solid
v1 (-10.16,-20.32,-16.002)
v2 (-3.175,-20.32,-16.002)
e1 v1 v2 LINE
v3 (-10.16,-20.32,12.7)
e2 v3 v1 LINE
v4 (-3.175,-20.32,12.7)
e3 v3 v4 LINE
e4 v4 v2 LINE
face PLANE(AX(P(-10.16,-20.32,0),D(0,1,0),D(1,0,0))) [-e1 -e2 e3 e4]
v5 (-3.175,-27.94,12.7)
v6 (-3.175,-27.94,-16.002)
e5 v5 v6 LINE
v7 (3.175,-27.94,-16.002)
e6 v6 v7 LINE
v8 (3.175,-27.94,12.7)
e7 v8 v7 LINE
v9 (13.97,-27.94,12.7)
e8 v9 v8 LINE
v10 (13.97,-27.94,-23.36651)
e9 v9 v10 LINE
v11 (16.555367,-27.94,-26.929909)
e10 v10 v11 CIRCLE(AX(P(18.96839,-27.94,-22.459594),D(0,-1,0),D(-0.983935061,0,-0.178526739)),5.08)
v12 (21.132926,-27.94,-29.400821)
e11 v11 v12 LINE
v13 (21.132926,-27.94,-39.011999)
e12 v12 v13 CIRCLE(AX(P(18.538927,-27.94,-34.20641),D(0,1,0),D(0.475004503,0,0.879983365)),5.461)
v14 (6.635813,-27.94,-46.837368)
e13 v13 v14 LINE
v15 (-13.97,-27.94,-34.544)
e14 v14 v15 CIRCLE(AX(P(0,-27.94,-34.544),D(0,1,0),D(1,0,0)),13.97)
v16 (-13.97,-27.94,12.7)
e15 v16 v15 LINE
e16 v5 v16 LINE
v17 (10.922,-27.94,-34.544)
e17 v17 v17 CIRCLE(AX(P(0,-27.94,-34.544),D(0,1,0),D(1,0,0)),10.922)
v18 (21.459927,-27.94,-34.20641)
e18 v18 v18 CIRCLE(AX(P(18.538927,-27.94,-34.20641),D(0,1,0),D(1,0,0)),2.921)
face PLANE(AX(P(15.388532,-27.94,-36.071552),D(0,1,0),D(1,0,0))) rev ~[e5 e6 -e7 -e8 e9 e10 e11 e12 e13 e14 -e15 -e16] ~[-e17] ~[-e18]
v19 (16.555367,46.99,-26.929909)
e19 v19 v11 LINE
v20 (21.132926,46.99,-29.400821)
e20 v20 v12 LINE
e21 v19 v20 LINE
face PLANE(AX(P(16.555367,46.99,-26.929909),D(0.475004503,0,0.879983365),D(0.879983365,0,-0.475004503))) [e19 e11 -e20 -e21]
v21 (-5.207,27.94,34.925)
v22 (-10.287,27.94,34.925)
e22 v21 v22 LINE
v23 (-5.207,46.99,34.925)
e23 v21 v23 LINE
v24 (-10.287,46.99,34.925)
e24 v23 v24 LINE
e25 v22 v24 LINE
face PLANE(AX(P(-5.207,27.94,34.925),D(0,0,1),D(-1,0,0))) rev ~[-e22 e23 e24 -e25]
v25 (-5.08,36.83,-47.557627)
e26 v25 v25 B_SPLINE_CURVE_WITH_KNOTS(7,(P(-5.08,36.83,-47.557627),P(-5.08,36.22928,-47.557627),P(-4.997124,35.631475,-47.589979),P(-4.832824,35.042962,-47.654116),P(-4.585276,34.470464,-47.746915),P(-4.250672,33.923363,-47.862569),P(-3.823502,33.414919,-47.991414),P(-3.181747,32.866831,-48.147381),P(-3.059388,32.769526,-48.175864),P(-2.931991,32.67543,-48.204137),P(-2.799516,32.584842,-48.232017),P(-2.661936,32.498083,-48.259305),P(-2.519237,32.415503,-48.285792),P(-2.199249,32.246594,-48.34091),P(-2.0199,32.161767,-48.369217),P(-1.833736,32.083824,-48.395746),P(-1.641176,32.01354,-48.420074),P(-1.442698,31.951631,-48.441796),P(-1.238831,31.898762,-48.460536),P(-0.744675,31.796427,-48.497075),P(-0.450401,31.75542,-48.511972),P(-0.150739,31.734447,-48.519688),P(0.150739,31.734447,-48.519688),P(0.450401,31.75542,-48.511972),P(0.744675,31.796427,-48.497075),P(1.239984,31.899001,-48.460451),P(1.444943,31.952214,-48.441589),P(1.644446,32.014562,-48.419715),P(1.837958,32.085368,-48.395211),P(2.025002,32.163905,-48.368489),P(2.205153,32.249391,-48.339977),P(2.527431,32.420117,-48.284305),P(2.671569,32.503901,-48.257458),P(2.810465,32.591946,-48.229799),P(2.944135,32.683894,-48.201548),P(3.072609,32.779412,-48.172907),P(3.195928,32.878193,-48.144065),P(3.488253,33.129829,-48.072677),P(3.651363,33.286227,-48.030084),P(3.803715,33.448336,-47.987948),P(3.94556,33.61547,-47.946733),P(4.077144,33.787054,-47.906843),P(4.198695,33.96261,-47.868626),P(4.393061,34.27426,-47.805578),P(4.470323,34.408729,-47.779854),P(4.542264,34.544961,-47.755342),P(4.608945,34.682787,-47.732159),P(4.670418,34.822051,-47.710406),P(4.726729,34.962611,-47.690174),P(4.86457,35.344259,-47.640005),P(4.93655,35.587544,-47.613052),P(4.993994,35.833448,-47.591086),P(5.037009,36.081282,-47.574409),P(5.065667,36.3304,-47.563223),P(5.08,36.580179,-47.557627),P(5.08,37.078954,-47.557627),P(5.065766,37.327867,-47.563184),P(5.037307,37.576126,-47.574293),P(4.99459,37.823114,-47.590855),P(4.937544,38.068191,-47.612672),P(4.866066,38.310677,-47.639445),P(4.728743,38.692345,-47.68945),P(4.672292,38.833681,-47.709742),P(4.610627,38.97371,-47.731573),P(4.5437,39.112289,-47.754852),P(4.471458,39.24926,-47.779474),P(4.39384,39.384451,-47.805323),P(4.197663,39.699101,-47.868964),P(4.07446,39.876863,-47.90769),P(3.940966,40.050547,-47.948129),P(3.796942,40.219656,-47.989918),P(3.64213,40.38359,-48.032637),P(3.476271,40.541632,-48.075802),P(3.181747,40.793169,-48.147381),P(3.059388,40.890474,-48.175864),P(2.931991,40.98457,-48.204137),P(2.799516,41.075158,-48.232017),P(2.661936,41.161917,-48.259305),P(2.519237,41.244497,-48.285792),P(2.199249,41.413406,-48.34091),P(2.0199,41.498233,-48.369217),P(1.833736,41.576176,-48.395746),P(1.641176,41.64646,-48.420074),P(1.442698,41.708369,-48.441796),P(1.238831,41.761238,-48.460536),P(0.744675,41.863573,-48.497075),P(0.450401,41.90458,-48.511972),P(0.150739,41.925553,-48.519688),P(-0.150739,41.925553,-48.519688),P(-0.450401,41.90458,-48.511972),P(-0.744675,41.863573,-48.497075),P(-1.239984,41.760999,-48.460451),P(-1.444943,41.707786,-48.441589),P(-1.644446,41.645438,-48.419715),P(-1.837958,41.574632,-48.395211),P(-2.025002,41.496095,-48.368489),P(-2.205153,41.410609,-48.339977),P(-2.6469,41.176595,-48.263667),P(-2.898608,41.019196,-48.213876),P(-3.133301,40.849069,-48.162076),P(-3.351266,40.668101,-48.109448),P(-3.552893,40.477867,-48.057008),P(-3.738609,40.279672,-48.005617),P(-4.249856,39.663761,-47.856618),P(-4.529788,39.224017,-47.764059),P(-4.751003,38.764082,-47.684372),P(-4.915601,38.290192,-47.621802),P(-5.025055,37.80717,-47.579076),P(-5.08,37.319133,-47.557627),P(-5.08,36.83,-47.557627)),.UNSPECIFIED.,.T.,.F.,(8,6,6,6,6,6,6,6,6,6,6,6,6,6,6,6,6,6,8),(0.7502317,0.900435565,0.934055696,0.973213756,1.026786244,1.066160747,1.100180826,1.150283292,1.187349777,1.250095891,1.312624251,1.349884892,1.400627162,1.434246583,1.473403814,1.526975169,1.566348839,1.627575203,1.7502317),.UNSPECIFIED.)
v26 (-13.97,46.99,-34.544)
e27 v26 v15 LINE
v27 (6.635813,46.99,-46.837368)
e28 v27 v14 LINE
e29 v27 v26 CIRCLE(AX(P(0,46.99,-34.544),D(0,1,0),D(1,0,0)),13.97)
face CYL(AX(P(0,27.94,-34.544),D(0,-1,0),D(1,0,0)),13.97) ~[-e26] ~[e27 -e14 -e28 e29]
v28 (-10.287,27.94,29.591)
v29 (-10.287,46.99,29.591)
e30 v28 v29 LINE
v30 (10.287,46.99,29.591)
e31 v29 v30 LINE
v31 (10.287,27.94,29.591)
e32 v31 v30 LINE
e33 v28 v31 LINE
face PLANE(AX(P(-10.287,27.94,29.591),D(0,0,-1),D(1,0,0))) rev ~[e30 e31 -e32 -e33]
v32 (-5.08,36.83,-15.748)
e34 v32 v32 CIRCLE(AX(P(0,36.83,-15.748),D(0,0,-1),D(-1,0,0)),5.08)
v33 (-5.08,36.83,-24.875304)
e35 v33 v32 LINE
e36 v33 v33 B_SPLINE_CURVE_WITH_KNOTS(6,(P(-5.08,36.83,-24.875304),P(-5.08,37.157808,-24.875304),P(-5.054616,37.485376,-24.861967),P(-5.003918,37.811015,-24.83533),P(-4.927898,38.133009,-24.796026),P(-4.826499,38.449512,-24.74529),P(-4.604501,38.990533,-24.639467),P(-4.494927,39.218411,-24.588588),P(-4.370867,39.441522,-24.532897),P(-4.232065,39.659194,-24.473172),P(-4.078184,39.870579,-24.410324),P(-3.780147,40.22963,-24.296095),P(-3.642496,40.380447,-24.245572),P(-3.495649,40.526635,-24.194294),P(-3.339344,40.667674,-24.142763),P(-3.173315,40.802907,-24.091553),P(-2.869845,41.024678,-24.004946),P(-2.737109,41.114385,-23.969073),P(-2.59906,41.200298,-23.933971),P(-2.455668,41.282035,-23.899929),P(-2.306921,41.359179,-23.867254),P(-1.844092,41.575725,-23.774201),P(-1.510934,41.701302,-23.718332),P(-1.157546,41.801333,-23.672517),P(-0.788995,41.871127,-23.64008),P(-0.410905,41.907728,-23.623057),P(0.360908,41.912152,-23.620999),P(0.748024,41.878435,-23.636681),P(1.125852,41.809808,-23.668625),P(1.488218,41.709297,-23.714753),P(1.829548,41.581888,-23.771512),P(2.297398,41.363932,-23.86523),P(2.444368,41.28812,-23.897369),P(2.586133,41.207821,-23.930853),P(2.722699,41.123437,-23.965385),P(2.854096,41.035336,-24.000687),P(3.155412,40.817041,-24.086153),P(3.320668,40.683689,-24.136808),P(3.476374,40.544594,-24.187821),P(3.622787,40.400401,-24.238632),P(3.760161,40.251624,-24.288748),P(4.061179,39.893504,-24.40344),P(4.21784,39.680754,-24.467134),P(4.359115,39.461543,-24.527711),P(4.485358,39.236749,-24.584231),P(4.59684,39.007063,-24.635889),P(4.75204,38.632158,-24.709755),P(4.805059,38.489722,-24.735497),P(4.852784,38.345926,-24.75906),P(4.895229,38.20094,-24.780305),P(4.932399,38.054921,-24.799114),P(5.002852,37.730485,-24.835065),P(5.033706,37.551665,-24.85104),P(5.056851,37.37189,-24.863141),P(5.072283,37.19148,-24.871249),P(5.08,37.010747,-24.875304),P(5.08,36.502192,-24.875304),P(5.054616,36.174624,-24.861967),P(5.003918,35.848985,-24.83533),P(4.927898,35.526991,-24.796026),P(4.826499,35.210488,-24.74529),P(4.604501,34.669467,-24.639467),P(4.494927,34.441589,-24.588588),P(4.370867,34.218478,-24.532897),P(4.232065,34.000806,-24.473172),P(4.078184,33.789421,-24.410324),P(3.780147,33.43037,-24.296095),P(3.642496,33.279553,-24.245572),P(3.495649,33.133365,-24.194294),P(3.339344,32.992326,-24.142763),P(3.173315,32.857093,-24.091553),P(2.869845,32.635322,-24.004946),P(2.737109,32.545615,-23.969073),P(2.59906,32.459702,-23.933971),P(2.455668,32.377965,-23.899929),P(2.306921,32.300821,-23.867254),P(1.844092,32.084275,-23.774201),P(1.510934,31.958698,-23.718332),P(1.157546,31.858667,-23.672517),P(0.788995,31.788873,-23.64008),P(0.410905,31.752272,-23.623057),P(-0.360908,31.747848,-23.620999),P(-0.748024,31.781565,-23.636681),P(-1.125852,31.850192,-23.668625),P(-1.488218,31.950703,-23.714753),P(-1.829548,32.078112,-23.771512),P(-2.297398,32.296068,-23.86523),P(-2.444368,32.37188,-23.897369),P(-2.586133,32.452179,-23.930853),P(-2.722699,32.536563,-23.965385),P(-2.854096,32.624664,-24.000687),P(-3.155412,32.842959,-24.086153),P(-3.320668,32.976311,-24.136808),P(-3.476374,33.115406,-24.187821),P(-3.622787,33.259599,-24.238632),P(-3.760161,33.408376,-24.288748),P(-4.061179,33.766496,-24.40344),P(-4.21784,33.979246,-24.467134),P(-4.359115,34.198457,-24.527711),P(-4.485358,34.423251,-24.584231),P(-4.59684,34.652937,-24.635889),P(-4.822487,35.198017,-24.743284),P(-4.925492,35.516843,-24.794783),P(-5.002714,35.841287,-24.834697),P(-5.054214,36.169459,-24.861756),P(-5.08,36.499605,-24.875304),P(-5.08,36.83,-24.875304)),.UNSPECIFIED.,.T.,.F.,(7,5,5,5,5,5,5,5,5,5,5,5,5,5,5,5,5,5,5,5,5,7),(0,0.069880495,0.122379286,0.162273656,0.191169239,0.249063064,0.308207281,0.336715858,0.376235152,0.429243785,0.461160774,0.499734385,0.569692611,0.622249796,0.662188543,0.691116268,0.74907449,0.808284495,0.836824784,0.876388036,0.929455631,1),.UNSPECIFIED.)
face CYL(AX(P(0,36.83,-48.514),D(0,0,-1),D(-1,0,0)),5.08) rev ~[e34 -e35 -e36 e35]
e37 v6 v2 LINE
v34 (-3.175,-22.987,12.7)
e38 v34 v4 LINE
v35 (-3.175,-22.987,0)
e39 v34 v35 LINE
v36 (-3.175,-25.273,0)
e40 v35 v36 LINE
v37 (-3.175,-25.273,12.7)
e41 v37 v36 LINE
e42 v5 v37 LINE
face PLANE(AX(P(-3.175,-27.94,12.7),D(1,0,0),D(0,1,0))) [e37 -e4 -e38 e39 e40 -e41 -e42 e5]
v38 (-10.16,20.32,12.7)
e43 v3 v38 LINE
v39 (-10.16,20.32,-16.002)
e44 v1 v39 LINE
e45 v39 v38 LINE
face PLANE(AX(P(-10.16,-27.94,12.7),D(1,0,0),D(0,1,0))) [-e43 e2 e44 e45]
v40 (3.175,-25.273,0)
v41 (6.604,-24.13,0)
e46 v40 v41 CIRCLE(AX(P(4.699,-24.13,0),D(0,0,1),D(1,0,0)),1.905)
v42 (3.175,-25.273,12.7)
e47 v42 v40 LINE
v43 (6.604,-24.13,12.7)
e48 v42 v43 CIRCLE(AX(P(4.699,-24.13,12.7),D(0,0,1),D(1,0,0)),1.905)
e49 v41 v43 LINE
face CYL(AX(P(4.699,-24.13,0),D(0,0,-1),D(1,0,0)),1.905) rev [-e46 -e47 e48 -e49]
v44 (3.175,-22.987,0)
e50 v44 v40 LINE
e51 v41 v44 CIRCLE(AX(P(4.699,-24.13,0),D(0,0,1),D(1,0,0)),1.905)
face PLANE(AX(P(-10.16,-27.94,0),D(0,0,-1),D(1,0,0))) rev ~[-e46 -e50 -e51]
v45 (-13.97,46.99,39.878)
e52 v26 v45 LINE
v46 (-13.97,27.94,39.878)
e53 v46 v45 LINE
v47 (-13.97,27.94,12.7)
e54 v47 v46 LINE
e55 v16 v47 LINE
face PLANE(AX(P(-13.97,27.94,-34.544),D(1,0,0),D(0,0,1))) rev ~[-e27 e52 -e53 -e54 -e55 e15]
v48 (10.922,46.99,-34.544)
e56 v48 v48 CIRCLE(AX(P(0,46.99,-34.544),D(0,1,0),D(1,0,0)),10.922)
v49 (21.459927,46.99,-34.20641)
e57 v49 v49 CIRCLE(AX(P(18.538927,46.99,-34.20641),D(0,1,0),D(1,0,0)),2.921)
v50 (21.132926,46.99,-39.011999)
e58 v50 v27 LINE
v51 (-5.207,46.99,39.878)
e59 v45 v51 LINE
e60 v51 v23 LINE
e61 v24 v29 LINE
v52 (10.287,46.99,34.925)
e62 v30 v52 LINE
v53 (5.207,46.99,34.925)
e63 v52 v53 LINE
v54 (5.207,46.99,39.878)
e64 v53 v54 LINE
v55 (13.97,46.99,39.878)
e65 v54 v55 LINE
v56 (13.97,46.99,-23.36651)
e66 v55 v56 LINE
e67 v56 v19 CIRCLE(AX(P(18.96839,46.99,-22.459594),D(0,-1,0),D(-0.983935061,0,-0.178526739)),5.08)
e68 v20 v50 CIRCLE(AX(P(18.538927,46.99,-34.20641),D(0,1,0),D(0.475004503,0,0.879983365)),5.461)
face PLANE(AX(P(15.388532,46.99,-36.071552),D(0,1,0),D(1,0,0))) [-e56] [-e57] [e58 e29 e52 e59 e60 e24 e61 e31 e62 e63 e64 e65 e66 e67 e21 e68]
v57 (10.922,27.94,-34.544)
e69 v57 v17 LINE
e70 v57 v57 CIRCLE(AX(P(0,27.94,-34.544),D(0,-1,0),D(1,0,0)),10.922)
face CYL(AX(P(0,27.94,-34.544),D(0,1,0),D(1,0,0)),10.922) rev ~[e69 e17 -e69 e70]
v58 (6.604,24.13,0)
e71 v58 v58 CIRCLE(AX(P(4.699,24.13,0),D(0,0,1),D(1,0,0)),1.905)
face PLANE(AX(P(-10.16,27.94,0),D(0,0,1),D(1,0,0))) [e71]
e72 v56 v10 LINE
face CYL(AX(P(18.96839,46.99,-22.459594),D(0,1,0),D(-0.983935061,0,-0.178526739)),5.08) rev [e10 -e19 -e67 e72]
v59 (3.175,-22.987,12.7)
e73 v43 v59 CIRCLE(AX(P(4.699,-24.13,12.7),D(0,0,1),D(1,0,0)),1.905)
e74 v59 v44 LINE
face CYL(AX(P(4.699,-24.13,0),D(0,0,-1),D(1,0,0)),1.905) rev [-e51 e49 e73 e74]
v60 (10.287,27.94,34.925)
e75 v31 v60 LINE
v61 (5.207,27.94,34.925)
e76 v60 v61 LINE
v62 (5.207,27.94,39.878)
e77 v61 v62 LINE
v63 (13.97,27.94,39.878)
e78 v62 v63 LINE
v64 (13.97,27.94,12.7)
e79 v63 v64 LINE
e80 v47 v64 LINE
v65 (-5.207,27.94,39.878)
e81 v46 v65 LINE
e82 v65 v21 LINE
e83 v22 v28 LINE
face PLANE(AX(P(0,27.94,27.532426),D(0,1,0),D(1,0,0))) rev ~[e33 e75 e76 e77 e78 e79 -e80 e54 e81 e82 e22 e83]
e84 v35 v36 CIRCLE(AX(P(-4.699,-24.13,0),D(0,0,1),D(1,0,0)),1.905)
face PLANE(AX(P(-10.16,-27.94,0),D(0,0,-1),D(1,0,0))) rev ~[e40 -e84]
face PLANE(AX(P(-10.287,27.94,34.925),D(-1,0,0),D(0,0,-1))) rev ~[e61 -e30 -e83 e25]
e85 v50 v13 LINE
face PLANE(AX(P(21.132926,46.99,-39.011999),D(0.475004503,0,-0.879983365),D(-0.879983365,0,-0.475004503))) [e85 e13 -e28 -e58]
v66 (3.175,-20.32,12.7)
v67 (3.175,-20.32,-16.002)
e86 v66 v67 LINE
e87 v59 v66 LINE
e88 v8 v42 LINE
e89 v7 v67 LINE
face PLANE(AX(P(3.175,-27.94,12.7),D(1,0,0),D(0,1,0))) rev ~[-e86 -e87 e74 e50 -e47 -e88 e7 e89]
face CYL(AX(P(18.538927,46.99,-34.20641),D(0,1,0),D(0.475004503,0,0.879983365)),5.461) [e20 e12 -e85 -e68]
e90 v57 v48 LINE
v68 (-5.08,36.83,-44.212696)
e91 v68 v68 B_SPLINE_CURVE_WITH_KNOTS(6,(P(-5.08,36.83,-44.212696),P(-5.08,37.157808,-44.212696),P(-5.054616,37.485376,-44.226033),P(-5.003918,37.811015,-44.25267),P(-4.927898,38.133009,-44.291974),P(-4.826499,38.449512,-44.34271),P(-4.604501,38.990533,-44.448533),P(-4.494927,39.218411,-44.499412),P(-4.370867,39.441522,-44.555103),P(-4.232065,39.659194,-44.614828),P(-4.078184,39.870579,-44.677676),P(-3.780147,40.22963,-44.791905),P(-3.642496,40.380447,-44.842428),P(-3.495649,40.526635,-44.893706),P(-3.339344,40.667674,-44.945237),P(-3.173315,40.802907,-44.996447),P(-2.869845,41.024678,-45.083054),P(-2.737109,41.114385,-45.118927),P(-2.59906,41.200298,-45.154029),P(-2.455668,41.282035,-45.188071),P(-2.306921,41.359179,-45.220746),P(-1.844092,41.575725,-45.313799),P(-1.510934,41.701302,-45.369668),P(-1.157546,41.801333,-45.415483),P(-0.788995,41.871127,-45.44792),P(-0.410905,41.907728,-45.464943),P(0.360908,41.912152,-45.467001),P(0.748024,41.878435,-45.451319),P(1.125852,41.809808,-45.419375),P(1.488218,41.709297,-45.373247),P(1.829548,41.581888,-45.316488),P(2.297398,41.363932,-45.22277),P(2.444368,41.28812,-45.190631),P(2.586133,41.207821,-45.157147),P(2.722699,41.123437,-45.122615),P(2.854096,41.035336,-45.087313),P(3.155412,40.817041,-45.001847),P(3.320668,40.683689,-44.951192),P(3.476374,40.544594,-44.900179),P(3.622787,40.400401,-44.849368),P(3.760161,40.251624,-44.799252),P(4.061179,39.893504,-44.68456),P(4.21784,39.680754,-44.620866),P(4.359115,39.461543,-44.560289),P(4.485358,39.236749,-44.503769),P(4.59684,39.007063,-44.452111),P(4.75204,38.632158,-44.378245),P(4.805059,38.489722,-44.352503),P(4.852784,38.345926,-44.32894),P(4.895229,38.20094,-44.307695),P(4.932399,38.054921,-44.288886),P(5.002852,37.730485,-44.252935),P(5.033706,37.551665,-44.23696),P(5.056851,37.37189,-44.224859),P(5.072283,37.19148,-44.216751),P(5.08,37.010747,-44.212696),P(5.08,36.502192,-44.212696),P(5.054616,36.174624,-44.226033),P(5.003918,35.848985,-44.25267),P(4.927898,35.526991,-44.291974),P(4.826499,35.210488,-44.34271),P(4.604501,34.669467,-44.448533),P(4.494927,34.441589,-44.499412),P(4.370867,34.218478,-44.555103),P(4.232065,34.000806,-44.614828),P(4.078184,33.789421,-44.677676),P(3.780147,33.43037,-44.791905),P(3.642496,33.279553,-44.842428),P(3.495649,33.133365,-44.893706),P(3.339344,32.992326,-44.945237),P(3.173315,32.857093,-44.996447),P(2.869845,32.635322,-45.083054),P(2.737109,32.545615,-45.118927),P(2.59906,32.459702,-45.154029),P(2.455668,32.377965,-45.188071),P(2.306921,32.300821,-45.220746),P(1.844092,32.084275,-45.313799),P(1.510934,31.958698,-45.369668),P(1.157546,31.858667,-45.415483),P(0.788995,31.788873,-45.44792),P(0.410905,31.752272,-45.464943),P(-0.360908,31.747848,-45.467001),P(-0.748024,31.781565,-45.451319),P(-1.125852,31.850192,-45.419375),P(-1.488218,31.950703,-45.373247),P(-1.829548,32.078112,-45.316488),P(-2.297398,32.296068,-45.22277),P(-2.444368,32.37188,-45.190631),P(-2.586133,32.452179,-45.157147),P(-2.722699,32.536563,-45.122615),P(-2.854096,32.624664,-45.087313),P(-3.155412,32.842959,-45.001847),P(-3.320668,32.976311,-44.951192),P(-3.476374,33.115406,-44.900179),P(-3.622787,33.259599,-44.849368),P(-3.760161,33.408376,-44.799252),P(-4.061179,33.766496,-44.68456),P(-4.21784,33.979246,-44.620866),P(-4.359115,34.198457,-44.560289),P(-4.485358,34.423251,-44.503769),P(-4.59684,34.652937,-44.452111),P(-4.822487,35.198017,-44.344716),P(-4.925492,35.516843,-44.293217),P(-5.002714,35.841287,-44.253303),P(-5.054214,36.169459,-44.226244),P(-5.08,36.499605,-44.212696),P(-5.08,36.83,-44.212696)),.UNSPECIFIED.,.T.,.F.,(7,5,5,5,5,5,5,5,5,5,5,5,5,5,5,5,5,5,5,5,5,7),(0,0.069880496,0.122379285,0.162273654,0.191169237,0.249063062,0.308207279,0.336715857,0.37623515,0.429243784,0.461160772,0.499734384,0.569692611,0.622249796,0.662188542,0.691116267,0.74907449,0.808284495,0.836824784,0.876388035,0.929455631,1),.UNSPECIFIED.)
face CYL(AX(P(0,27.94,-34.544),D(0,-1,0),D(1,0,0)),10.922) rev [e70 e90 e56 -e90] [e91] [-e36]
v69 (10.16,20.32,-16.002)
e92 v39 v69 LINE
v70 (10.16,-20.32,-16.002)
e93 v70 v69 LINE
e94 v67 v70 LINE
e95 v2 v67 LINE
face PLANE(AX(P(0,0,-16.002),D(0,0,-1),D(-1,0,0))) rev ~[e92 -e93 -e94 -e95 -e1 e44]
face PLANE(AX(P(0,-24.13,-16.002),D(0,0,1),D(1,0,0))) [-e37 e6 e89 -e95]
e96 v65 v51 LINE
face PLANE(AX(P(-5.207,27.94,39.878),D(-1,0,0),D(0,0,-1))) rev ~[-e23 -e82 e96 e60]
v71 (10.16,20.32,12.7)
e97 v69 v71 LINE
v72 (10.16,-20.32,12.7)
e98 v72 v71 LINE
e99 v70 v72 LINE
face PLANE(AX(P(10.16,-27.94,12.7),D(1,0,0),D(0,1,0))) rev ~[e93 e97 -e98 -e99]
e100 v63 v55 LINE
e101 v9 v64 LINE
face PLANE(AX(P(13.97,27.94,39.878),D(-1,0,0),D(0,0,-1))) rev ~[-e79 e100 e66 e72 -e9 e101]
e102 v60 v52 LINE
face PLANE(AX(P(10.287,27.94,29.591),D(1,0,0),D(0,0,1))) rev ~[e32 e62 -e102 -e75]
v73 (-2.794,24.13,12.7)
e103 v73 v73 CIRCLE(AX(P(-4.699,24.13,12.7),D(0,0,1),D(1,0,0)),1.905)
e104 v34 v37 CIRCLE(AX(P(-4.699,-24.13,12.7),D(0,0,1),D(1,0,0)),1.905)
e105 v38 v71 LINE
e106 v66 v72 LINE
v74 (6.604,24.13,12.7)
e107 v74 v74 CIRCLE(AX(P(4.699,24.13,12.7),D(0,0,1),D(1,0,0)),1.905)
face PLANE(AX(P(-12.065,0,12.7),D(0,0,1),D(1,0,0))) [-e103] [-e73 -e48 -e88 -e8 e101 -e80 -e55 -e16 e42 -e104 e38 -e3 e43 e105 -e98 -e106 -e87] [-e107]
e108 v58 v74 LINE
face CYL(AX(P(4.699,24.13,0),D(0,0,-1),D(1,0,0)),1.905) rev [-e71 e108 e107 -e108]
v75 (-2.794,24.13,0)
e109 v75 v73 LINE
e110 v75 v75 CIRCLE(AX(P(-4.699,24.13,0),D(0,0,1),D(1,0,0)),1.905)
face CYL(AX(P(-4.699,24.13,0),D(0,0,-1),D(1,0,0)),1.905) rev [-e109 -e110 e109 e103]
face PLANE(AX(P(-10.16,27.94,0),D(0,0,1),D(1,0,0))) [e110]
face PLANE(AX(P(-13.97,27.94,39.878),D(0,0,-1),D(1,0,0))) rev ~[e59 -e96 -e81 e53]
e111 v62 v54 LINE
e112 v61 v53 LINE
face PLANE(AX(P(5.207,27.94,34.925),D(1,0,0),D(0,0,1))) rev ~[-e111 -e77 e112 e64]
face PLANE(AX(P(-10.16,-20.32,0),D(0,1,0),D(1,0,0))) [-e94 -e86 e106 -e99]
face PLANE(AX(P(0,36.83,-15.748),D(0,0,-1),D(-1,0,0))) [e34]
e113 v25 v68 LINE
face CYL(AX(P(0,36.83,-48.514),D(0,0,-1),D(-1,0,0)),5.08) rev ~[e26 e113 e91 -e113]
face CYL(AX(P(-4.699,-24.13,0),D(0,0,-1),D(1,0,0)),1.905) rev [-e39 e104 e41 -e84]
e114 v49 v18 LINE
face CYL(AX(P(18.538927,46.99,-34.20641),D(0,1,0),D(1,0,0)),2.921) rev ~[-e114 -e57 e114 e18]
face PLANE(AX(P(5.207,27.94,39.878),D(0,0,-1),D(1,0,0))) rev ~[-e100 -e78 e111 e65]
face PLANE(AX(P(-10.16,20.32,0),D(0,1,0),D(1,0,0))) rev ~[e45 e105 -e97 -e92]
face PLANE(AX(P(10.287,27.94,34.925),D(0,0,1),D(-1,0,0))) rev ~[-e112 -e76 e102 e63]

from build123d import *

# Parameters (mm, degrees)
SKETCH2_W             = 20.32
SKETCH2_H             = 7.62
SKETCH2_R             = 1.905
BOSS_EXTRUDE1_DEPTH   = 12.7
BOSS_EXTRUDE1_2_DEPTH = 12.7
SKETCH4_W             = 3.81
SKETCH4_H             = 55.88
BOSS_EXTRUDE2_DEPTH   = 28.702
SKETCH5_W             = 27.94
SKETCH5_H             = 55.88
BOSS_EXTRUDE3_DEPTH   = 7.62
SKETCH6_R             = 10.922
BOSS_EXTRUDE6_DEPTH   = 55.88
SKETCH10_W            = 20.32
SKETCH10_H            = 16.002
BOSS_EXTRUDE7_DEPTH   = 7.62
SKETCH11_W            = 20.32
SKETCH11_H            = 16.002
BOSS_EXTRUDE8_DEPTH   = 7.62
SKETCH12_R            = 10.922
BOSS_EXTRUDE9_DEPTH   = 19.05
SKETCH14_R            = 2.921
BOSS_EXTRUDE10_DEPTH  = 74.93
SKETCH17_R            = 5.08
CUT_EXTRUDE3_DEPTH    = 32.766
SKETCH18_W            = 6.35
SKETCH18_H            = 7.62
CUT_EXTRUDE4_DEPTH    = 28.702


with BuildPart() as part:
    # Sketch2 → Boss-Extrude1 (new body)
    with BuildSketch(Plane.XY):
        with Locations((0, 24.13)):
            Rectangle(SKETCH2_W, SKETCH2_H)
        with Locations((4.699, 24.13)):
            Circle(SKETCH2_R, mode=Mode.SUBTRACT)
        with Locations((-4.699, 24.13)):
            Circle(SKETCH2_R, mode=Mode.SUBTRACT)
    extrude(amount=BOSS_EXTRUDE1_DEPTH)



with BuildPart() as body_2:
    # Sketch2 → Boss-Extrude1 2 (new body)
    with BuildSketch(Plane.XY):
        with Locations((0, -24.13)):
            Rectangle(SKETCH2_W, SKETCH2_H)
        with Locations((-4.699, -24.13)):
            Circle(SKETCH2_R, mode=Mode.SUBTRACT)
        with Locations((4.699, -24.13)):
            Circle(SKETCH2_R, mode=Mode.SUBTRACT)
    extrude(amount=BOSS_EXTRUDE1_2_DEPTH)


with BuildPart() as part_1:
    add(part.part)

    add(body_2.part)  # Boss-Extrude2 merges body 2
    # Sketch4 → Boss-Extrude2 (add)
    with BuildSketch(Plane.XY.offset(12.7)):
        with Locations((-12.065, 0)):
            Rectangle(SKETCH4_W, SKETCH4_H)
        with Locations((12.065, 0)):
            Rectangle(SKETCH4_W, SKETCH4_H)
    extrude(amount=-BOSS_EXTRUDE2_DEPTH)

    # Sketch5 → Boss-Extrude3 (add)
    with BuildSketch(Plane(origin=(0, 0, -16.002), x_dir=(-1, 0, 0), z_dir=(0, 0, -1))):
        Rectangle(SKETCH5_W, SKETCH5_H)
    extrude(amount=BOSS_EXTRUDE3_DEPTH)

    # Sketch6 → Boss-Extrude6 (add)
    with BuildSketch(Plane(origin=(0, 27.94, 0), x_dir=(1, 0, 0), z_dir=(0, 1, 0))):
        with BuildLine():
            Line((8.710385525, 23.622), (13.97, 23.622))
            Line((13.97, 23.622), (13.97, 34.544))
            ThreePointArc((13.97, 34.544), (0, 48.514), (-13.97, 34.544))
            Line((-13.97, 34.544), (-13.97, 23.622))
            Line((-13.97, 23.622), (-8.710385525, 23.622))
            ThreePointArc((-8.710385525, 23.622), (0, 20.574), (8.710385525, 23.622))
        make_face()
        with Locations((0, 34.544)):
            Circle(SKETCH6_R, mode=Mode.SUBTRACT)
    extrude(amount=-BOSS_EXTRUDE6_DEPTH)

    # Sketch10 → Boss-Extrude7 (add)
    with BuildSketch(Plane(origin=(0, 27.94, 0), x_dir=(1, 0, 0), z_dir=(0, 1, 0))):
        with Locations((0, 8.001)):
            Rectangle(SKETCH10_W, SKETCH10_H)
    extrude(amount=-BOSS_EXTRUDE7_DEPTH)

    # Sketch11 → Boss-Extrude8 (add)
    with BuildSketch(Plane.XZ.offset(27.94)):
        with Locations((0, -8.001)):
            Rectangle(SKETCH11_W, SKETCH11_H)
    extrude(amount=-BOSS_EXTRUDE8_DEPTH)

    # Sketch12 → Boss-Extrude9 (add)
    with BuildSketch(Plane(origin=(0, 27.94, 0), x_dir=(1, 0, 0), z_dir=(0, 1, 0))):
        Polygon((-13.97, -12.7), (-13.97, -39.878), (-5.207, -39.878), (-5.207, -34.925), (-10.287, -34.925), (-10.287, -29.591), (10.287, -29.591), (10.287, -34.925), (5.207, -34.925), (5.207, -39.878), (13.97, -39.878), (13.97, -12.7), align=None)
        with BuildLine():
            Line((13.97, -12.7), (13.97, 34.544))
            ThreePointArc((13.97, 34.544), (0, 48.514), (-13.97, 34.544))
            Line((-13.97, 34.544), (-13.97, -12.7))
            Line((-13.97, -12.7), (13.97, -12.7))
        make_face()
        with Locations((0, 34.544)):
            Circle(SKETCH12_R, mode=Mode.SUBTRACT)
    extrude(amount=BOSS_EXTRUDE9_DEPTH)

    # Sketch14 → Boss-Extrude10 (add)
    with BuildSketch(Plane(origin=(0, 46.99, 0), x_dir=(1, 0, 0), z_dir=(0, 1, 0))):
        with BuildLine():
            Line((21.132926123, 39.011999157), (6.635812906, 46.837367605))
            ThreePointArc((6.635812906, 46.837367605), (11.997149793, 41.701464415), (13.97, 34.544))
            Line((13.97, 34.544), (13.97, 26.397222721))
            Line((13.97, 26.397222721), (13.97, 23.366509606))
            ThreePointArc((13.97, 23.366509606), (14.856612526, 25.442827777), (16.555367234, 26.929909268))
            Line((16.555367234, 26.929909268), (21.132926123, 29.400820847))
            ThreePointArc((21.132926123, 29.400820847), (23.999926533, 34.206410002), (21.132926123, 39.011999157))
        make_face()
        with Locations((18.538926533, 34.206410002)):
            Circle(SKETCH14_R, mode=Mode.SUBTRACT)
    extrude(amount=-BOSS_EXTRUDE10_DEPTH)

    # Sketch17 → Cut-Extrude3 (cut)
    with BuildSketch(Plane(origin=(0, 0, -48.514), x_dir=(-1, 0, 0), z_dir=(0, 0, -1))):
        with Locations((0, 36.83)):
            Circle(SKETCH17_R)
    extrude(amount=-CUT_EXTRUDE3_DEPTH, mode=Mode.SUBTRACT)

    # Sketch18 → Cut-Extrude4 (cut)
    with BuildSketch(Plane.XY.offset(12.7)):
        with Locations((0, -24.13)):
            Rectangle(SKETCH18_W, SKETCH18_H)
    extrude(amount=-CUT_EXTRUDE4_DEPTH, mode=Mode.SUBTRACT)


solid = part_1.part
